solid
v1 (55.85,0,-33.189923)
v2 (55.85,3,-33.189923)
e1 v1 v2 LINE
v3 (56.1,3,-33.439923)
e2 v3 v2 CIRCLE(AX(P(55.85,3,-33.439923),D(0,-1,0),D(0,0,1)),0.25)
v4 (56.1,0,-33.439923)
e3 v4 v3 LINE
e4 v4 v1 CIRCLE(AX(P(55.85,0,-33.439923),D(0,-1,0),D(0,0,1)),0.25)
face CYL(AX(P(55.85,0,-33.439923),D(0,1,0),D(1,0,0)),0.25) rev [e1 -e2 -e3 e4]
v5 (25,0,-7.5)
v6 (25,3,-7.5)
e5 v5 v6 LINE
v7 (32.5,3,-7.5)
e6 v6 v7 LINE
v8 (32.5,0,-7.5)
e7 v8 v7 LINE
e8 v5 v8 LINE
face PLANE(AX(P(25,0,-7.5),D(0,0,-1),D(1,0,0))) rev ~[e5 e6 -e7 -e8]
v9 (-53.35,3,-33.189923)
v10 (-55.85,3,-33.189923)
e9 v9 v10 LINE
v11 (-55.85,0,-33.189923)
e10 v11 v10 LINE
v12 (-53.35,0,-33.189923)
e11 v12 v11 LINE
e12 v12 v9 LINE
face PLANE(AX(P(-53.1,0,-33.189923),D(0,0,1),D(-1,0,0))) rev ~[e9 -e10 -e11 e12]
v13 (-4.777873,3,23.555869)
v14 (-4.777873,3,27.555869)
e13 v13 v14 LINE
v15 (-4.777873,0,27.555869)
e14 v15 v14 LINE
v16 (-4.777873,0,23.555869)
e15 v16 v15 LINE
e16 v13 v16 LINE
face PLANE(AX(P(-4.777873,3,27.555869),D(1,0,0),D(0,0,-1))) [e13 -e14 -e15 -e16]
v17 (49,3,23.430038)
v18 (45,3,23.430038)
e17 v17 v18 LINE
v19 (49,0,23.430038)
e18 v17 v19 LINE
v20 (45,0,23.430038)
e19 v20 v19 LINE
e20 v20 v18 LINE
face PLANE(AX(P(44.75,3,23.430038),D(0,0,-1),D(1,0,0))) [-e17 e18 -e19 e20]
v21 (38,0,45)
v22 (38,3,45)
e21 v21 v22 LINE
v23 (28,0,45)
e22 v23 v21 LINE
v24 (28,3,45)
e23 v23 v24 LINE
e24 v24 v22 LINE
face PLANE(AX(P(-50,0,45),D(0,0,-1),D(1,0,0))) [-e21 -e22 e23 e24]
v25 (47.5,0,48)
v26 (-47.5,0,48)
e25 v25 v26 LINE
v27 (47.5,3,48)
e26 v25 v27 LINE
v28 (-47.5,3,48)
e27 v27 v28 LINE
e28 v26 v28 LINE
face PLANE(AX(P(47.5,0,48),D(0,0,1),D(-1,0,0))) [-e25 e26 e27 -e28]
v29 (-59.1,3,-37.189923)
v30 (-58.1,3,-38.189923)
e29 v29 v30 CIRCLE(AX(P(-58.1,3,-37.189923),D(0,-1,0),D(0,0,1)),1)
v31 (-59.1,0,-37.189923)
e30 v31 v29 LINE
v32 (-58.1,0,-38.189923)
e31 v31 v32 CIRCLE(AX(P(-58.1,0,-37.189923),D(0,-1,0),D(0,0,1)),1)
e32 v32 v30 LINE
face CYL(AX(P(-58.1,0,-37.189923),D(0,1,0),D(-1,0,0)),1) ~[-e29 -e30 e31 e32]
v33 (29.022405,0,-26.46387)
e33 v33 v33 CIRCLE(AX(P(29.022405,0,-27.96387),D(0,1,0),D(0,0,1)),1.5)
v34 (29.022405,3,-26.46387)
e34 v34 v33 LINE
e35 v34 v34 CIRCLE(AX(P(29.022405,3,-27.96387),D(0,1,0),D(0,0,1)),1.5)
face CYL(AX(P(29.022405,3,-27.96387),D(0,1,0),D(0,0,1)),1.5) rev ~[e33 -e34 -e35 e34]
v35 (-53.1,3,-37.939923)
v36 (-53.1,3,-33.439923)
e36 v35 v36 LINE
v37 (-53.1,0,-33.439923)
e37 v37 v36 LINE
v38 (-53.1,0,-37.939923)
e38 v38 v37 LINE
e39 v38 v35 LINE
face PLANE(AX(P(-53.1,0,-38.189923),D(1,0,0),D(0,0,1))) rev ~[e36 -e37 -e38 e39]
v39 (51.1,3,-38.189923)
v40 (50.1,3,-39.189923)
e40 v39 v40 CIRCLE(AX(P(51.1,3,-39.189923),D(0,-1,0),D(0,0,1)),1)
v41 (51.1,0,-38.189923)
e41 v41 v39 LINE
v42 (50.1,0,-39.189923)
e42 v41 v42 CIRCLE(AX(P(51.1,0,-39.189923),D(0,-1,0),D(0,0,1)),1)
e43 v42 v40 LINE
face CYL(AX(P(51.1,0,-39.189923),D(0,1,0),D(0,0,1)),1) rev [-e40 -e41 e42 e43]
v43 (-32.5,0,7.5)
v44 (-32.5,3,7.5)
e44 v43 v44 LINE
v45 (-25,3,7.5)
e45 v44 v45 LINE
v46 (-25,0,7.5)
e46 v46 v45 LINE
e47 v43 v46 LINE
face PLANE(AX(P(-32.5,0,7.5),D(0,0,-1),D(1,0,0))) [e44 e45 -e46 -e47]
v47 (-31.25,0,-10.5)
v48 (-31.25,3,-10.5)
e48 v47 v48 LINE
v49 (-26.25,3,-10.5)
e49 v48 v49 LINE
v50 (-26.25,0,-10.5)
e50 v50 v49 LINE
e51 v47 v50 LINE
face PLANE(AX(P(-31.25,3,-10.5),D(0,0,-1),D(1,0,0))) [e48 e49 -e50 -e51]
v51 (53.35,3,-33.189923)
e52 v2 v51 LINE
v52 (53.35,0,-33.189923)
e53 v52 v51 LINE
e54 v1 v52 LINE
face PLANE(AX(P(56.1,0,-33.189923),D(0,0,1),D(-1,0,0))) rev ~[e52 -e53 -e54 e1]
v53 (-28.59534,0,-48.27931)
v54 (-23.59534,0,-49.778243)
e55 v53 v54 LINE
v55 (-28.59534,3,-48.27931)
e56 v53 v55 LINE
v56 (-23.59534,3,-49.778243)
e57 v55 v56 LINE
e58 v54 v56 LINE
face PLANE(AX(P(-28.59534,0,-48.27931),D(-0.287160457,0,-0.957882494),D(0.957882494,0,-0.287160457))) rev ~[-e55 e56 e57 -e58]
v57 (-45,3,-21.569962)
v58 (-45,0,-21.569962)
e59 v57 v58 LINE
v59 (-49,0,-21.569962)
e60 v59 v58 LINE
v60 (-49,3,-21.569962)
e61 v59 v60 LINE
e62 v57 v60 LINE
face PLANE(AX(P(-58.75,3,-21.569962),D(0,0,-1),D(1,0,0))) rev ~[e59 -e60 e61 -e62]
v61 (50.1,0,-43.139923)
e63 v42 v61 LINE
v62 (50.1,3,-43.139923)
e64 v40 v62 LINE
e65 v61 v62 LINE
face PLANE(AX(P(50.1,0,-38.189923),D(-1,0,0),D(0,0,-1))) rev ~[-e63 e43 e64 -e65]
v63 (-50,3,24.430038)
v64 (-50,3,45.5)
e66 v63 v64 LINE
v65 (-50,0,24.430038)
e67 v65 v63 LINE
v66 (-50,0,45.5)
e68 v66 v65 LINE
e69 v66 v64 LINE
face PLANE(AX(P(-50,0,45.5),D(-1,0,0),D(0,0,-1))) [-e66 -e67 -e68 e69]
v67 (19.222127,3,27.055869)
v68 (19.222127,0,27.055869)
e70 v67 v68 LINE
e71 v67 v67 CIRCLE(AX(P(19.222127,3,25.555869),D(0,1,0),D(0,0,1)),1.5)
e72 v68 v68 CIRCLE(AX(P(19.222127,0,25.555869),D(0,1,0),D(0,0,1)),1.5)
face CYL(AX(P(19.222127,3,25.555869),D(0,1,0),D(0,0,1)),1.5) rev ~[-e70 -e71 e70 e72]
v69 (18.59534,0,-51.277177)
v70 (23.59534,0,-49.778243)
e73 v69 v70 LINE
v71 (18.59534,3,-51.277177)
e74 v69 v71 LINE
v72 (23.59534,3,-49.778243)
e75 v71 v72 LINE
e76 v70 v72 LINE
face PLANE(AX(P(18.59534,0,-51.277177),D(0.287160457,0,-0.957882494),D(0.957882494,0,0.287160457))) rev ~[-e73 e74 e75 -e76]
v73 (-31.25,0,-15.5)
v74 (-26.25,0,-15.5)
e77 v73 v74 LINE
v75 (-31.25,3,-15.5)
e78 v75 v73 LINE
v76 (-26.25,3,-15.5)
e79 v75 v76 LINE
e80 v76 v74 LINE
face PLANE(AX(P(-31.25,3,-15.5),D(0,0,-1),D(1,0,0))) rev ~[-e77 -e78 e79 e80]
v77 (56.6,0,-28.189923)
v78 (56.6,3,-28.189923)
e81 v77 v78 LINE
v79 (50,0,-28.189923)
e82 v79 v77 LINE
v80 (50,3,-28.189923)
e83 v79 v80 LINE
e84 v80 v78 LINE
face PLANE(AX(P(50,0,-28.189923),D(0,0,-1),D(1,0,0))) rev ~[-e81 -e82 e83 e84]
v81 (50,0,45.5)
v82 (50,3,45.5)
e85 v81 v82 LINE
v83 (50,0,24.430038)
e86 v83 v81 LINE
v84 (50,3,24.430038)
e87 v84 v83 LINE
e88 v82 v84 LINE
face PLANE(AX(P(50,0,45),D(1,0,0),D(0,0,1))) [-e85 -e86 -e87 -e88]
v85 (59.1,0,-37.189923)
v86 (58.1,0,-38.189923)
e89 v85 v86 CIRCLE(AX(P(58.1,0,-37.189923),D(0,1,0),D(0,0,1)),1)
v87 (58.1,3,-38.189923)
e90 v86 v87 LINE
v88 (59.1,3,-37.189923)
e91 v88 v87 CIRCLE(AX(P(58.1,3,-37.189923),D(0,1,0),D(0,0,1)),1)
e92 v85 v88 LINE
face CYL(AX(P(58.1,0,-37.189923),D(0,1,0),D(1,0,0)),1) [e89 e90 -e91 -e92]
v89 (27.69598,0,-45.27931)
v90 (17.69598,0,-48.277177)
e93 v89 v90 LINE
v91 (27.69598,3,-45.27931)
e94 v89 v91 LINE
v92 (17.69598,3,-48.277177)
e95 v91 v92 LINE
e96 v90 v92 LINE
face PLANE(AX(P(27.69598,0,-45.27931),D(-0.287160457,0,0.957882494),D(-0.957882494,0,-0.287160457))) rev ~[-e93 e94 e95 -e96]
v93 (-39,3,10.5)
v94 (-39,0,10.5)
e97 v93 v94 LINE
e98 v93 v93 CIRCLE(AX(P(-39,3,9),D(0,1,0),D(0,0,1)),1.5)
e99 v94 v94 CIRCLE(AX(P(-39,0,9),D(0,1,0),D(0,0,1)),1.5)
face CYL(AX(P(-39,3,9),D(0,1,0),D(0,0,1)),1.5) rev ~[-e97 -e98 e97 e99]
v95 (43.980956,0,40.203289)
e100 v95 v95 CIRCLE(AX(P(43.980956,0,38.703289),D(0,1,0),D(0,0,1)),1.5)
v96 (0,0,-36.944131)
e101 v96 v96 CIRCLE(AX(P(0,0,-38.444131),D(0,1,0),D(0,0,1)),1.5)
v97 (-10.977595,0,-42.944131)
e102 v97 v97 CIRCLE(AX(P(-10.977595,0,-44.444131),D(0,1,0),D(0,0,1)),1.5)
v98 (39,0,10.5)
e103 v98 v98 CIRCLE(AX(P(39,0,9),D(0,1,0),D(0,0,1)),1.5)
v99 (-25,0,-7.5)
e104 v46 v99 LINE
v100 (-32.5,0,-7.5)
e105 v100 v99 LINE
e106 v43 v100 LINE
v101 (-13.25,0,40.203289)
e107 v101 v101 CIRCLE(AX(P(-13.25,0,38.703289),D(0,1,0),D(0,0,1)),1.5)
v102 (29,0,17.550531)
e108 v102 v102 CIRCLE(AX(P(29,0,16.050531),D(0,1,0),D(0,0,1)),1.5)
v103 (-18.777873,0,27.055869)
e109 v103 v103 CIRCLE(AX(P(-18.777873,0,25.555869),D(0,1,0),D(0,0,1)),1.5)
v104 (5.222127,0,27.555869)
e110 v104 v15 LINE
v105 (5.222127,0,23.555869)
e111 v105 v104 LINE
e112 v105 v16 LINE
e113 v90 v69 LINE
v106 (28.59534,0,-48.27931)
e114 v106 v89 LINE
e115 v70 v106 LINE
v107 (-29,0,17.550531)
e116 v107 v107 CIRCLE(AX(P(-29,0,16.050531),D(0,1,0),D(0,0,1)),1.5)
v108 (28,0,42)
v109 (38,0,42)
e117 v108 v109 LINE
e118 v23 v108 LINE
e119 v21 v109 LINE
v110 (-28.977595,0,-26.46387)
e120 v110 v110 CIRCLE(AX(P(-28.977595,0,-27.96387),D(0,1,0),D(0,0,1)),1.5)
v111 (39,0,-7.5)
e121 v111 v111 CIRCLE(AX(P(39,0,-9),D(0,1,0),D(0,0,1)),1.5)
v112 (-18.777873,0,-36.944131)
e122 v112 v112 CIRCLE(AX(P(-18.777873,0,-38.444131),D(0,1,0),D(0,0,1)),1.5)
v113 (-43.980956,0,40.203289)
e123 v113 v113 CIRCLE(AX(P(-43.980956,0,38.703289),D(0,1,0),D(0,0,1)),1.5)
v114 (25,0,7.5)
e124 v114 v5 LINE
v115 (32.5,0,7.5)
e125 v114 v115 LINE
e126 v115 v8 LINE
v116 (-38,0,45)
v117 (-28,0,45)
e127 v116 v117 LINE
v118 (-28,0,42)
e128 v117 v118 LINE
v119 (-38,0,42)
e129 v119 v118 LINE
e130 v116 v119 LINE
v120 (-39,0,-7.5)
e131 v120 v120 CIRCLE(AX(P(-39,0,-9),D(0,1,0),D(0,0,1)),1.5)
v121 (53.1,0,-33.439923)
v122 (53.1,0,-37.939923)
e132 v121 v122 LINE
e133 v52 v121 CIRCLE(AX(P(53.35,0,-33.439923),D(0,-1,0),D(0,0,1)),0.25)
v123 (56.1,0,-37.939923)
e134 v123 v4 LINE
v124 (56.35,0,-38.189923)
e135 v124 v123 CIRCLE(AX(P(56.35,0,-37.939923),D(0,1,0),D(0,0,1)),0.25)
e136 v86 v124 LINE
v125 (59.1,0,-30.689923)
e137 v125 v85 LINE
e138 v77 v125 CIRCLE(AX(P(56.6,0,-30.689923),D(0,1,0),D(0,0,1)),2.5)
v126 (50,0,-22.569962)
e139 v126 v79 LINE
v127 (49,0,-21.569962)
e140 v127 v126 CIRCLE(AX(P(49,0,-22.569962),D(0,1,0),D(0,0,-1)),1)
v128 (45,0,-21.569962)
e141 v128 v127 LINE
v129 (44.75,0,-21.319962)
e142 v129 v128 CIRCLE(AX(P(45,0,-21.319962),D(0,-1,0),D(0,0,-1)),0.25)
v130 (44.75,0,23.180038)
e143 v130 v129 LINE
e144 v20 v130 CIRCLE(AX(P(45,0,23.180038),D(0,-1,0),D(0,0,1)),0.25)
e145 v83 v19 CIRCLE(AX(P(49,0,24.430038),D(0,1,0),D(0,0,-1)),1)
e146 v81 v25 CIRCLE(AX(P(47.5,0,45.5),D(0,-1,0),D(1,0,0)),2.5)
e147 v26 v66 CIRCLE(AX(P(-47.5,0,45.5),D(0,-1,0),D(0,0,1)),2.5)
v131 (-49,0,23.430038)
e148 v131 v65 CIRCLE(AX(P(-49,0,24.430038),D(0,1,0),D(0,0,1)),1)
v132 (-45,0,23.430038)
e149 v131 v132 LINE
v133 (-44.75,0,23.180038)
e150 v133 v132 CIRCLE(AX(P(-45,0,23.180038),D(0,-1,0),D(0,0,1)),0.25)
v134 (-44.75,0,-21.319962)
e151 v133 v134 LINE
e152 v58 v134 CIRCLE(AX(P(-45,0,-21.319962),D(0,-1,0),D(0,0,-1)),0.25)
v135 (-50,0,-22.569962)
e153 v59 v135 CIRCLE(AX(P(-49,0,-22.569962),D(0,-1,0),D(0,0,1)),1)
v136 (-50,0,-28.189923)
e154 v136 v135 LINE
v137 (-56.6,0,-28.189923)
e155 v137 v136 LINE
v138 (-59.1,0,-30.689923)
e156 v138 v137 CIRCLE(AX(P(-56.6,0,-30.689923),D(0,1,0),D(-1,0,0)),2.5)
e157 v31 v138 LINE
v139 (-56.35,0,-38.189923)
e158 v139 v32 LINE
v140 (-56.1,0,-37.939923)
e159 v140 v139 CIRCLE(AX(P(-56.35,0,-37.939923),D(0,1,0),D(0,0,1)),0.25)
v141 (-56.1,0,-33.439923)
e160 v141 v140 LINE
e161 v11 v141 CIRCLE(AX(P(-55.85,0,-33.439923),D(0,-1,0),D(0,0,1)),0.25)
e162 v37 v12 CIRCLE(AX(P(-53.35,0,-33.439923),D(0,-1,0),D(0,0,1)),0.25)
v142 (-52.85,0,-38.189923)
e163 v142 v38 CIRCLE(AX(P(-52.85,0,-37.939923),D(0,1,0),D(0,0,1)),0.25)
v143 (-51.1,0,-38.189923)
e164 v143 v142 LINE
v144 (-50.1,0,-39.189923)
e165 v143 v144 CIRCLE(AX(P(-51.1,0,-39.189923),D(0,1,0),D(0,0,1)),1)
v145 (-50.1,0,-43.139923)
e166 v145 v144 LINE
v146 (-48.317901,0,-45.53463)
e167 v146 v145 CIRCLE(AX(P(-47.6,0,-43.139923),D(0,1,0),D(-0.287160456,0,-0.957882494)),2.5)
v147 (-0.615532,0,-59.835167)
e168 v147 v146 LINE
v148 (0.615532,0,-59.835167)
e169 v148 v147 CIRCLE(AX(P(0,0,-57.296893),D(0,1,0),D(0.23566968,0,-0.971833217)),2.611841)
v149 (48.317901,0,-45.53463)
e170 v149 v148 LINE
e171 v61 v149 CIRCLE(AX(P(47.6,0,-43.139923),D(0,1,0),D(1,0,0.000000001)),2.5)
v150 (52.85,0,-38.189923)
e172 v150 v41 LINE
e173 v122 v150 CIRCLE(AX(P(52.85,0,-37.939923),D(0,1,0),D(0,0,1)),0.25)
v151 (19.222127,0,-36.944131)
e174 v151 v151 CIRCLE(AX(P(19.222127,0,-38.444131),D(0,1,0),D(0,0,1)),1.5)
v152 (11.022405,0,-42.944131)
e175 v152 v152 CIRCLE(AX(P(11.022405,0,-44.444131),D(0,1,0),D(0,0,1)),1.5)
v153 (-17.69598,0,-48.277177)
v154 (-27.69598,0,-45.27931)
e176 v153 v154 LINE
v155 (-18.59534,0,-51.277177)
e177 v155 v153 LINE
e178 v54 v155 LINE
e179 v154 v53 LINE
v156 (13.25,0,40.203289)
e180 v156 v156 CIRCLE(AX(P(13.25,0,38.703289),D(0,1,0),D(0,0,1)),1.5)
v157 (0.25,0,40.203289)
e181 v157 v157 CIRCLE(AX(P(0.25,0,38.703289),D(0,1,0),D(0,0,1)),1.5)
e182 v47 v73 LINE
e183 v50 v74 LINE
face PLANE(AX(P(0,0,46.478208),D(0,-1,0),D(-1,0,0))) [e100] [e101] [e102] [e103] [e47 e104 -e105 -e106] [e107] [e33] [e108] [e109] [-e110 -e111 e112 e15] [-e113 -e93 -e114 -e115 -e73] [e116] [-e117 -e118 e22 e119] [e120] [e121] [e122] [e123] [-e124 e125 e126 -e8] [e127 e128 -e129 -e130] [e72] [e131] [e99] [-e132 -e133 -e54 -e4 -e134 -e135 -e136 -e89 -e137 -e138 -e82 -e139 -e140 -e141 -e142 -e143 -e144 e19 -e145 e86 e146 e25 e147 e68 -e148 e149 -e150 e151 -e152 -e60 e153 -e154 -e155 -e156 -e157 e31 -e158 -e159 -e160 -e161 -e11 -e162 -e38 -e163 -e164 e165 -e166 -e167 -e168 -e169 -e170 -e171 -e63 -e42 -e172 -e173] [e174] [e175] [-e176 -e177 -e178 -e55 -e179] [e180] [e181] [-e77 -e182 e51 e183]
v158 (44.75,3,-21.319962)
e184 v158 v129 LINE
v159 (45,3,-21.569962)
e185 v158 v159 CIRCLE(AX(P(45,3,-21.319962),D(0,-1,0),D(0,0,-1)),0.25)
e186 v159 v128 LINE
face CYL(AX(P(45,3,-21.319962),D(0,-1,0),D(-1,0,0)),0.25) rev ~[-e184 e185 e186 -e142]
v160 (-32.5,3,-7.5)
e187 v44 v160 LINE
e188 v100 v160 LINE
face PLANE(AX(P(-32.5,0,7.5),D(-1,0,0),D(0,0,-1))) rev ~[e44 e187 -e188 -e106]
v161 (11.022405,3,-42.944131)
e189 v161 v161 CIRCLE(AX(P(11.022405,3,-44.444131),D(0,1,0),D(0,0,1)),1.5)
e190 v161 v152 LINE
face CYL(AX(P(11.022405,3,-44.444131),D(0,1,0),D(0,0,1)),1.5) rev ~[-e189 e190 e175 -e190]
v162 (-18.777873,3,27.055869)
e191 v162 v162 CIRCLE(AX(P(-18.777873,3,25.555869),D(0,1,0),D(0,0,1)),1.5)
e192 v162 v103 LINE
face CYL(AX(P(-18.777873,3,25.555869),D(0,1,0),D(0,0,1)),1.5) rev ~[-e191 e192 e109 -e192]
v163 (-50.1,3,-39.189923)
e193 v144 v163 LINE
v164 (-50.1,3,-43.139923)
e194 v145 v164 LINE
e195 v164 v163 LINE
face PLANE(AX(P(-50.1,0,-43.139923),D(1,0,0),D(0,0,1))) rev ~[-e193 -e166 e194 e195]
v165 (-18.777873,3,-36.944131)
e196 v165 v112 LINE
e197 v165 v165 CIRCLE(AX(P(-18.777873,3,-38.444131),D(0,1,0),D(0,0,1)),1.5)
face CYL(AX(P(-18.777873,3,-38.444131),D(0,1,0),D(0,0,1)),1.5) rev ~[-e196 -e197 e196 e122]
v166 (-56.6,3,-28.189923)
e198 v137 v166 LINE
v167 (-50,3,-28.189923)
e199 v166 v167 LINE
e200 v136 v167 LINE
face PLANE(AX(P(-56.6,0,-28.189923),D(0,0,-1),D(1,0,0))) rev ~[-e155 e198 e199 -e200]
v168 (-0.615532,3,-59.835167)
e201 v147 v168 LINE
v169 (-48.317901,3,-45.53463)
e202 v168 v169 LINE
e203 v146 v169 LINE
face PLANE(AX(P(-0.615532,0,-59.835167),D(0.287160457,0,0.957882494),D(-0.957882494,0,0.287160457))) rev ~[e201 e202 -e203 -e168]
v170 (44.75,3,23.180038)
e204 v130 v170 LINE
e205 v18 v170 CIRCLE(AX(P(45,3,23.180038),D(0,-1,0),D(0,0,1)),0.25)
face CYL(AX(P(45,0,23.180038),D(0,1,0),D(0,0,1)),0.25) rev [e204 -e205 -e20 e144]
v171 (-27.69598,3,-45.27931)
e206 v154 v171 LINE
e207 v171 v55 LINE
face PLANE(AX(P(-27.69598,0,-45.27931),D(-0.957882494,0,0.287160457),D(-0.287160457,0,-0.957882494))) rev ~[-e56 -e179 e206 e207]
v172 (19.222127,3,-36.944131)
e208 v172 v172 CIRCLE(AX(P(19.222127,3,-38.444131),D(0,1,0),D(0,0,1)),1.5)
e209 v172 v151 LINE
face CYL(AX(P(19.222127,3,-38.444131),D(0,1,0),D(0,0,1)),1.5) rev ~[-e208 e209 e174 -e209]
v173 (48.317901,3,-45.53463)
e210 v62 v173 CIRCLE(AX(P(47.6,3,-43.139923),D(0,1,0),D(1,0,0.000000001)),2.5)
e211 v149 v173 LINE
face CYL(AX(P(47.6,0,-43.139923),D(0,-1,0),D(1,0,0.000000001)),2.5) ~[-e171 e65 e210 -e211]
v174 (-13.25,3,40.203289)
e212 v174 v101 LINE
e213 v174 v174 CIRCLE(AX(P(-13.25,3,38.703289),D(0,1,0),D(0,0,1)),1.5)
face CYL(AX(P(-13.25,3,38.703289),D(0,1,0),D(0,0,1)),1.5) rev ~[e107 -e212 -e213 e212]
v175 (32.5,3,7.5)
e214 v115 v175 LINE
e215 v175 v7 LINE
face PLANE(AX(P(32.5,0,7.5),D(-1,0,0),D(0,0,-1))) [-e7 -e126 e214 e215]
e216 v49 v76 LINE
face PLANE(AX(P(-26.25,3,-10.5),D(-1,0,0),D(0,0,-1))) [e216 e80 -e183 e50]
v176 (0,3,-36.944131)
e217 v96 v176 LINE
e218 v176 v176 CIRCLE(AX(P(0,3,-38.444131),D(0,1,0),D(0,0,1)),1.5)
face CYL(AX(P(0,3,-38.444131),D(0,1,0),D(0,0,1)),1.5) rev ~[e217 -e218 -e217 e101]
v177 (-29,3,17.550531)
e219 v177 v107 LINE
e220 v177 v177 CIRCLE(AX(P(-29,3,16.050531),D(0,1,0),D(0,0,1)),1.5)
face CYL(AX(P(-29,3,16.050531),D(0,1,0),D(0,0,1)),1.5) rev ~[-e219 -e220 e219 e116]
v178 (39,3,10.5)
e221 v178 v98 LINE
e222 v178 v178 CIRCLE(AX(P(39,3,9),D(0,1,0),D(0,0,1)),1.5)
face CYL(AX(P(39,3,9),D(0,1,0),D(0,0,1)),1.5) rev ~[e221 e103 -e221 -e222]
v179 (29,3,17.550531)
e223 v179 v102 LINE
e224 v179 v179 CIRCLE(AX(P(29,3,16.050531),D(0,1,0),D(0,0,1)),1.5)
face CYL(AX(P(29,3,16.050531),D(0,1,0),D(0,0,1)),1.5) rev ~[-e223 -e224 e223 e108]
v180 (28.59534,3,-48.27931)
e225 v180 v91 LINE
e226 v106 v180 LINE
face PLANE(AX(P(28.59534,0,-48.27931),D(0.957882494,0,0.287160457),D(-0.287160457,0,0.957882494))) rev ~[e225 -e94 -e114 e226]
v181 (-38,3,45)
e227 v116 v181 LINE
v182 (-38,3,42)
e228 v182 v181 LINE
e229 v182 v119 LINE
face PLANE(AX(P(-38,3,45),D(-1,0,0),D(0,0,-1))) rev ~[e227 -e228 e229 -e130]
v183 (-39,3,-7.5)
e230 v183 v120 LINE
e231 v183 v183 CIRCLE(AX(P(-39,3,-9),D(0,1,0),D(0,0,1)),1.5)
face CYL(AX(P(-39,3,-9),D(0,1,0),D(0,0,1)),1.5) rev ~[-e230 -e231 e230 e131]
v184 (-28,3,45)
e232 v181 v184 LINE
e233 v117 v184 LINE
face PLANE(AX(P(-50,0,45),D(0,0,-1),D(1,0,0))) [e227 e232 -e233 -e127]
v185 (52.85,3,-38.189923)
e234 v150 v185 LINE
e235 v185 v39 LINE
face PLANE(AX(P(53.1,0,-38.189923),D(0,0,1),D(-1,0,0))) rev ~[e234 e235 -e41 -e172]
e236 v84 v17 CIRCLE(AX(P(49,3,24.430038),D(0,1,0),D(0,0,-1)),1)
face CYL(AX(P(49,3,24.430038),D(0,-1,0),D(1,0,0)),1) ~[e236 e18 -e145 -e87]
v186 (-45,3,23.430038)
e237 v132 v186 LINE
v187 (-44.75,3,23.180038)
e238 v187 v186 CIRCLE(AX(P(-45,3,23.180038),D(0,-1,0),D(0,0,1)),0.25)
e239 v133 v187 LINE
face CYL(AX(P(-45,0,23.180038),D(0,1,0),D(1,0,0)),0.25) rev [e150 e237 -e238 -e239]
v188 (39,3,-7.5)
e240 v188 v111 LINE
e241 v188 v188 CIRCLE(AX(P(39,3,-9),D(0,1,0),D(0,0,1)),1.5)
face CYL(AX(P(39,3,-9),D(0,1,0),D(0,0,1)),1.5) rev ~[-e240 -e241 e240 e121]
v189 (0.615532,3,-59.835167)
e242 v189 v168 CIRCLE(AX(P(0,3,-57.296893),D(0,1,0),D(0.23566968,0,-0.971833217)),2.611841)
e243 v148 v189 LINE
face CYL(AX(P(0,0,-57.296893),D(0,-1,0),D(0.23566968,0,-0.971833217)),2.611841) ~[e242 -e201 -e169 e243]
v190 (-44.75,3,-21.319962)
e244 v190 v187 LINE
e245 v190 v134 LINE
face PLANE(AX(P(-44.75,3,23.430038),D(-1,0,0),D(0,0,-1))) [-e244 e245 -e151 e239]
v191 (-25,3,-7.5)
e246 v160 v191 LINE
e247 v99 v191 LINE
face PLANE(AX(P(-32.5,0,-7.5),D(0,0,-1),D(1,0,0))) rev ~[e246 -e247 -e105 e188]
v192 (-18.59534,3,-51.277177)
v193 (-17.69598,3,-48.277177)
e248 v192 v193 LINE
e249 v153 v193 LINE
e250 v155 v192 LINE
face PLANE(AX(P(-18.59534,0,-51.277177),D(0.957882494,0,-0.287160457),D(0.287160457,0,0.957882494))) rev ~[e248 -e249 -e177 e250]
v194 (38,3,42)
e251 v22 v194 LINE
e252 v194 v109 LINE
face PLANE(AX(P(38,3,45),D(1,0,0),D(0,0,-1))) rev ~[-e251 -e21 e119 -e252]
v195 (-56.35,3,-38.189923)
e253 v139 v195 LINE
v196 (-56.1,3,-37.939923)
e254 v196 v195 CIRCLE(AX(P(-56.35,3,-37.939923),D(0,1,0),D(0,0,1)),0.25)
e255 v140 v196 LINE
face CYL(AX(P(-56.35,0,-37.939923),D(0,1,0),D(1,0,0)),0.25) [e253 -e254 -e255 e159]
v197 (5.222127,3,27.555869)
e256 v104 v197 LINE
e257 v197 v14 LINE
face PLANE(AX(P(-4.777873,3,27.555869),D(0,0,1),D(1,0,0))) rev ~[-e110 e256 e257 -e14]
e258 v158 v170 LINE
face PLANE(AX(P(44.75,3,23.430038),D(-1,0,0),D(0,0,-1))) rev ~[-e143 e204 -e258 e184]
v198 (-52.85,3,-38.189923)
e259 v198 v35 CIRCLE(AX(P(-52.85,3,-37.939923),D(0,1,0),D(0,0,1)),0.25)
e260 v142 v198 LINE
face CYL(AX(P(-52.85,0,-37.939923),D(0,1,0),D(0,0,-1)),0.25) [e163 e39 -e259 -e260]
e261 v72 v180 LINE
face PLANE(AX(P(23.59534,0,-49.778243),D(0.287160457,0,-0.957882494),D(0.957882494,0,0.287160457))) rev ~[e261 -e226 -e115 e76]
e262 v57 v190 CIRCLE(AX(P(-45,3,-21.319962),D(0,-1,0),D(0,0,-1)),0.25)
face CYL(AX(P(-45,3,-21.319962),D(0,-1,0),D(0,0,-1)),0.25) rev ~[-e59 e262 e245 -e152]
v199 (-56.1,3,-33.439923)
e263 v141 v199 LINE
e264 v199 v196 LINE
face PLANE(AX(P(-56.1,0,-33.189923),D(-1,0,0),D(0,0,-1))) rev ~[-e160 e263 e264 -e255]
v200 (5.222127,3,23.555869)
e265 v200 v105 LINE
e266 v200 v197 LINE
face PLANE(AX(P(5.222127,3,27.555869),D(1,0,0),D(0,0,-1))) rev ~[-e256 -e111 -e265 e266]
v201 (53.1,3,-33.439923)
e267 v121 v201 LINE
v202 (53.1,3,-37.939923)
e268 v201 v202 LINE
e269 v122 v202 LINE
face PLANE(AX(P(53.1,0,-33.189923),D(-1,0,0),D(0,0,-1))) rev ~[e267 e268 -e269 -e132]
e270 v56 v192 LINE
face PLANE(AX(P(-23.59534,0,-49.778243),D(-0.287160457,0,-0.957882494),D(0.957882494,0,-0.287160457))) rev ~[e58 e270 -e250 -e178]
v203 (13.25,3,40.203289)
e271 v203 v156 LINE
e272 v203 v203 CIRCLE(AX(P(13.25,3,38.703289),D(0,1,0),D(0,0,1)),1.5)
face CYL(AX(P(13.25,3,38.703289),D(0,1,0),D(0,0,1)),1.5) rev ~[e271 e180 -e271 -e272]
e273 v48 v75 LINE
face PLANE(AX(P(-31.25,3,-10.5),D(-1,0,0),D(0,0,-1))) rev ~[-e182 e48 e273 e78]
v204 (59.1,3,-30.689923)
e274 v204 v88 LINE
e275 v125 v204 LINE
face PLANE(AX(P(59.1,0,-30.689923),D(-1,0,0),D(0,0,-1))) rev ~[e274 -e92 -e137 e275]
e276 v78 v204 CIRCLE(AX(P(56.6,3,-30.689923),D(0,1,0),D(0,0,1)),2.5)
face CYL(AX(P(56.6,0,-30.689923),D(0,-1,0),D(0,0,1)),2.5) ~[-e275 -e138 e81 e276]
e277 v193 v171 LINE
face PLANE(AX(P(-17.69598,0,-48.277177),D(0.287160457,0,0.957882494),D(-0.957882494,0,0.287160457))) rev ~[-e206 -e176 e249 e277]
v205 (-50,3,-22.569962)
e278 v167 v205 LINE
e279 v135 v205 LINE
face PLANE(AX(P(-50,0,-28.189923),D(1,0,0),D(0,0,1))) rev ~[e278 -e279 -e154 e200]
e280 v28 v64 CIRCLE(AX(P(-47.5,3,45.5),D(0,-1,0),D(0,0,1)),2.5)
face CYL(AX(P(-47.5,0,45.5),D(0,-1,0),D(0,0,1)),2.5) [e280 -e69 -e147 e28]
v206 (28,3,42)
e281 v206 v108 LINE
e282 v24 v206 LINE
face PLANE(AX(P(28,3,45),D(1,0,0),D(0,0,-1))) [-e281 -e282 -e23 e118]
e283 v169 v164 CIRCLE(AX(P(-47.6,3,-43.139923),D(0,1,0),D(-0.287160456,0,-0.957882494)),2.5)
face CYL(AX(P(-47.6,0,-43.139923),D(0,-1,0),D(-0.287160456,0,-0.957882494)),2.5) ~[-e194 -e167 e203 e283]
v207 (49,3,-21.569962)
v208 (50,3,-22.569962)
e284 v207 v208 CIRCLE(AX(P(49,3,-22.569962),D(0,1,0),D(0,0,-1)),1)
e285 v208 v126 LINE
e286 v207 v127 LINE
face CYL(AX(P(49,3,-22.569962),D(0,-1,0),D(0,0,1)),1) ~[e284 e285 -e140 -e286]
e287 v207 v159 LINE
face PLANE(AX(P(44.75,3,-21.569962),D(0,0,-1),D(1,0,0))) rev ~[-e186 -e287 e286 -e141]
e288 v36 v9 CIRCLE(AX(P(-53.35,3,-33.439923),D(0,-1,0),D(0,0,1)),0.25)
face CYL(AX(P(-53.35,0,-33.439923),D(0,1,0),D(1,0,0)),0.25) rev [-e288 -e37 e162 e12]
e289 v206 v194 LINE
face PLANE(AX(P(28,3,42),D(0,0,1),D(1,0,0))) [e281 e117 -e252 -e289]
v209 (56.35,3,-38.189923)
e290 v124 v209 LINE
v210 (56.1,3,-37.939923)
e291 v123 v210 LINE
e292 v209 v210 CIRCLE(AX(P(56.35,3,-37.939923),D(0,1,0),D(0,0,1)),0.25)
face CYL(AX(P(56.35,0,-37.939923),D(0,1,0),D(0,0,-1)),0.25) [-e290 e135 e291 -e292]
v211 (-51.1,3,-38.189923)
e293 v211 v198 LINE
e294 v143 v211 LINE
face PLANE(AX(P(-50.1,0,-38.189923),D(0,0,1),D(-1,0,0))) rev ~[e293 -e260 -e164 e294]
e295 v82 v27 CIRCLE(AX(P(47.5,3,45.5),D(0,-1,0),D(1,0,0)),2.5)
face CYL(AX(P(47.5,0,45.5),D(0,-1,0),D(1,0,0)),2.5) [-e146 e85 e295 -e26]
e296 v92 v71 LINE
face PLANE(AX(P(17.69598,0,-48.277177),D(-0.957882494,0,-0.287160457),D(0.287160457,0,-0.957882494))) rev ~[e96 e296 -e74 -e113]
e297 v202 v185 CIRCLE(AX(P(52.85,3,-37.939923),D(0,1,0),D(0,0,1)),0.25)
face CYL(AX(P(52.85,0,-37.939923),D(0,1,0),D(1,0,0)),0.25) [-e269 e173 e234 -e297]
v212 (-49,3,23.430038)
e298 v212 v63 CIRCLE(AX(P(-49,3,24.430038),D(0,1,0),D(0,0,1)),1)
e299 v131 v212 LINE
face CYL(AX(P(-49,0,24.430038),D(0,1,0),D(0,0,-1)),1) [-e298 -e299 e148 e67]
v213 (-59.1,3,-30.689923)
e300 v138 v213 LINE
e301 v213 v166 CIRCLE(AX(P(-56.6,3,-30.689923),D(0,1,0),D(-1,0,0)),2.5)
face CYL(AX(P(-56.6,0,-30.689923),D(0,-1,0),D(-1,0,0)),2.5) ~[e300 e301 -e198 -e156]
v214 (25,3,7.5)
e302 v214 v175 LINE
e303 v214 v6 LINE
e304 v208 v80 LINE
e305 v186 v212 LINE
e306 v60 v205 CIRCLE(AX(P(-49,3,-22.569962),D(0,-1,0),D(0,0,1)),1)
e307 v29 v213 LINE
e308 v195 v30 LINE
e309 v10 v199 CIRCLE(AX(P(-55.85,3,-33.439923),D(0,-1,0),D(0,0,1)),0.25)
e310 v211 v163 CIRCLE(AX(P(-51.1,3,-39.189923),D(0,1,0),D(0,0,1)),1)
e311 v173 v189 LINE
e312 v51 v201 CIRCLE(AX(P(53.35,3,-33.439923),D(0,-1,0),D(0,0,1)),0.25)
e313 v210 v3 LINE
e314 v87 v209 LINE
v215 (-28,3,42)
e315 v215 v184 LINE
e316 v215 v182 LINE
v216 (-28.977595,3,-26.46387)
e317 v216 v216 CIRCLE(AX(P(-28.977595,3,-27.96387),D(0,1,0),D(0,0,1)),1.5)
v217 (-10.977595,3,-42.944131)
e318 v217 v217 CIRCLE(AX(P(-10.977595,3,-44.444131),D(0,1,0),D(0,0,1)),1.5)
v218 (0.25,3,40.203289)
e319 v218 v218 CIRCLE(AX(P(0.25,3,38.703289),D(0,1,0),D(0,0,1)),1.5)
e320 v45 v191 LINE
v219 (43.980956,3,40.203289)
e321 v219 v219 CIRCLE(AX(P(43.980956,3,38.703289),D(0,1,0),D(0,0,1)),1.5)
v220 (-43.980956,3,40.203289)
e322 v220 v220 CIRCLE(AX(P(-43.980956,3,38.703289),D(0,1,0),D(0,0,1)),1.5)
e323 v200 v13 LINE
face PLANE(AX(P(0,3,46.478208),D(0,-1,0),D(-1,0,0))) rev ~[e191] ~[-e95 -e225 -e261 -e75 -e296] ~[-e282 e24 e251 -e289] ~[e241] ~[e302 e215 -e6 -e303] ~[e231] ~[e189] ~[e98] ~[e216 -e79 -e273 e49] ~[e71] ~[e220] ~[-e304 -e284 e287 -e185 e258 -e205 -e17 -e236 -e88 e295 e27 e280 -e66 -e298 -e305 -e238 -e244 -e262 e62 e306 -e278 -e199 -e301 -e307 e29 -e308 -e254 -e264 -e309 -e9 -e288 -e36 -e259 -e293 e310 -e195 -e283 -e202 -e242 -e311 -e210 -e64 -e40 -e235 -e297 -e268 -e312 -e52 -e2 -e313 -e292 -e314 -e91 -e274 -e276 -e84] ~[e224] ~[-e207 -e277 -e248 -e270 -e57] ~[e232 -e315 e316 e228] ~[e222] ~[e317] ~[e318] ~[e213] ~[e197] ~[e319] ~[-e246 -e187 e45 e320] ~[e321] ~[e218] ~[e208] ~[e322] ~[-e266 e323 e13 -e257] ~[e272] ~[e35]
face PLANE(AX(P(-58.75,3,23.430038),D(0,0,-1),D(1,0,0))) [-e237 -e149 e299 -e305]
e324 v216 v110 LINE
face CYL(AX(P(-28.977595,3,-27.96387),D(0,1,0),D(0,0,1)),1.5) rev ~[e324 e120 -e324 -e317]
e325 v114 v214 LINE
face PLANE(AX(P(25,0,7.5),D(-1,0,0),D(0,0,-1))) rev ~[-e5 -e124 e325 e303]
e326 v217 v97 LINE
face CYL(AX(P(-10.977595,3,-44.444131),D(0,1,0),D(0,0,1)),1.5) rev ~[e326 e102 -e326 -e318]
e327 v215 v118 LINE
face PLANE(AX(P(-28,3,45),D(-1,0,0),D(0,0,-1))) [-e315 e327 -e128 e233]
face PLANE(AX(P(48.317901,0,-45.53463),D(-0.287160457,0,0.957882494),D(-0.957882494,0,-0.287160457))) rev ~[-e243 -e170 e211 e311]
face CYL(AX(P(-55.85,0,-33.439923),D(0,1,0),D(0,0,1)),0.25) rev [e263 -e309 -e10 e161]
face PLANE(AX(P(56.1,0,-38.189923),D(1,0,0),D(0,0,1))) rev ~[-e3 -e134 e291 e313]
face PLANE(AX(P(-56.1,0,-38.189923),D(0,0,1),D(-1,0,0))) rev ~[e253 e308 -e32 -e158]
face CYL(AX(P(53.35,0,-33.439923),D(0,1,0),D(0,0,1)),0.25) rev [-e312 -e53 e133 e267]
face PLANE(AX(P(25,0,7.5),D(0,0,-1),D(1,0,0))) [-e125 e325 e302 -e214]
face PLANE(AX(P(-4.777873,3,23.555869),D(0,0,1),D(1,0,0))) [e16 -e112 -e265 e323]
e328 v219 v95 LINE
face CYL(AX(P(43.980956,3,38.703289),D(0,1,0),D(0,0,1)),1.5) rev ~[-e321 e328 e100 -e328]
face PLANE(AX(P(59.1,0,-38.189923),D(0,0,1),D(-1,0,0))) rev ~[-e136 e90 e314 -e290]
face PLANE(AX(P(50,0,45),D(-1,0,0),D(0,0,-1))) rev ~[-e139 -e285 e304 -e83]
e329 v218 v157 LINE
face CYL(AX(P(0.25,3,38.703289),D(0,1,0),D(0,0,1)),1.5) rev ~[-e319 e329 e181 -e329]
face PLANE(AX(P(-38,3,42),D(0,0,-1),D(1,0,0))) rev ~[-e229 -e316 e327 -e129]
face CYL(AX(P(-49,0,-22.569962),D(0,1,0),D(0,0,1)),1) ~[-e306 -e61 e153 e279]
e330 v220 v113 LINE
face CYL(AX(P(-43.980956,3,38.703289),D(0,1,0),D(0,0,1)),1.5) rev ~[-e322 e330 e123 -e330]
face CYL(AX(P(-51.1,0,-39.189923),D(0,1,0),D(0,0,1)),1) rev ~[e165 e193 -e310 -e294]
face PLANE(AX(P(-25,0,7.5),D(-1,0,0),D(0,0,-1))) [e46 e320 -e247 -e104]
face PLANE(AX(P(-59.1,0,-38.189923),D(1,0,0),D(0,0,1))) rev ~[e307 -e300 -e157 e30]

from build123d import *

# Parameters (mm, degrees)
CROQUIS3_W              = 7.5
CROQUIS3_H              = 15
SALIENTE_EXTRUIR1_DEPTH = 3
CROQUIS4_R              = 1.5
CROQUIS4_W              = 14
CROQUIS4_H              = 45
CROQUIS4_W_2            = 10
CROQUIS4_H_2            = 3
CORTAR_EXTRUIR1_DEPTH   = 3
SALIENTE_EXTRUIR2_DEPTH = 3
REDONDEO2_R             = 0.25
REDONDEO3_R             = 1
CROQUIS6_R              = 1.5
CROQUIS6_W              = 5
CROQUIS6_H              = 5
CROQUIS6_W_2            = 10
CROQUIS6_H_2            = 4
CORTAR_EXTRUIR2_DEPTH   = 5
CROQUIS7_R              = 1.5
CORTAR_EXTRUIR4_DEPTH   = 5


with BuildPart() as part:
    # Croquis3 → Saliente-Extruir1 (new body)
    with BuildSketch(Plane(origin=(0, 0, 0), x_dir=(1, 0, 0), z_dir=(0, 1, 0))):
        with BuildLine():
            Line((-50, -45), (50, -45))
            Line((50, -45), (50, 28.189923373))
            Line((50, 28.189923373), (56.6, 28.189923373))
            ThreePointArc((56.6, 28.189923373), (58.367766953, 28.92215642), (59.1, 30.689923373))
            Line((59.1, 30.689923373), (59.1, 38.189923373))
            Line((59.1, 38.189923373), (56.1, 38.189923373))
            Line((56.1, 38.189923373), (56.1, 33.189923373))
            Line((56.1, 33.189923373), (53.1, 33.189923373))
            Line((53.1, 33.189923373), (53.1, 38.189923373))
            Line((53.1, 38.189923373), (50.1, 38.189923373))
            Line((50.1, 38.189923373), (50.1, 43.139923373))
            ThreePointArc((50.1, 43.139923373), (49.605586306, 44.632445926), (48.317901143, 45.534629607))
            Line((48.317901143, 45.534629607), (0.615531773, 59.835166775))
            ThreePointArc((0.615531773, 59.835166775), (0, 59.908733938), (-0.615531773, 59.835166775))
            Line((-0.615531773, 59.835166775), (-48.317901143, 45.534629607))
            ThreePointArc((-48.317901143, 45.534629607), (-49.605586306, 44.632445926), (-50.1, 43.139923373))
            Line((-50.1, 43.139923373), (-50.1, 38.189923373))
            Line((-50.1, 38.189923373), (-53.1, 38.189923373))
            Line((-53.1, 38.189923373), (-53.1, 33.189923373))
            Line((-53.1, 33.189923373), (-56.1, 33.189923373))
            Line((-56.1, 33.189923373), (-56.1, 38.189923373))
            Line((-56.1, 38.189923373), (-59.1, 38.189923373))
            Line((-59.1, 38.189923373), (-59.1, 30.689923373))
            ThreePointArc((-59.1, 30.689923373), (-58.367766953, 28.92215642), (-56.6, 28.189923373))
            Line((-56.6, 28.189923373), (-50, 28.189923373))
            Line((-50, 28.189923373), (-50, -45))
        make_face()
        with Locations((28.75, 0)):
            Rectangle(CROQUIS3_W, CROQUIS3_H, mode=Mode.SUBTRACT)
        with Locations((-28.75, 0)):
            Rectangle(CROQUIS3_W, CROQUIS3_H, mode=Mode.SUBTRACT)
        Polygon((-23.595339952, 49.778243466), (-18.595339952, 51.277177099), (-17.695979772, 48.277177099), (-27.695979772, 45.279309832), (-28.595339952, 48.279309832), align=None, mode=Mode.SUBTRACT)
        Polygon((28.595339952, 48.279309832), (27.695979772, 45.279309832), (17.695979772, 48.277177099), (18.595339952, 51.277177099), (23.595339952, 49.778243466), align=None, mode=Mode.SUBTRACT)
    extrude(amount=SALIENTE_EXTRUIR1_DEPTH)

    # Croquis4 → Cortar-Extruir1 (cut, symmetric)
    with BuildSketch(Plane(origin=(0, 3, 0), x_dir=(1, 0, 0), z_dir=(0, 1, 0))):
        with Locations(Location((0.25, -38.703289419, 0), (0, 0, 270))):
            Circle(CROQUIS4_R)
        with Locations(Location((-39, 9, 0), (0, 0, 270))):
            Circle(CROQUIS4_R)
        with Locations(Location((39, 9, 0), (0, 0, 270))):
            Circle(CROQUIS4_R)
        with Locations(Location((39, -9, 0), (0, 0, 270))):
            Circle(CROQUIS4_R)
        with Locations(Location((-39, -9, 0), (0, 0, 270))):
            Circle(CROQUIS4_R)
        with Locations(Location((-43.980956203, -38.703289419, 0), (0, 0, 270))):
            Circle(CROQUIS4_R)
        with Locations(Location((-13.25, -38.703289419, 0), (0, 0, 270))):
            Circle(CROQUIS4_R)
        with Locations(Location((13.25, -38.703289419, 0), (0, 0, 270))):
            Circle(CROQUIS4_R)
        with Locations(Location((43.980956203, -38.703289419, 0), (0, 0, 270))):
            Circle(CROQUIS4_R)
        with Locations((51.75, -0.930038314)):
            Rectangle(CROQUIS4_W, CROQUIS4_H)
        with Locations((-51.75, -0.930038314)):
            Rectangle(CROQUIS4_W, CROQUIS4_H)
        with Locations((-33, -43.5)):
            Rectangle(CROQUIS4_W_2, CROQUIS4_H_2)
        with Locations((33, -43.5)):
            Rectangle(CROQUIS4_W_2, CROQUIS4_H_2)
    extrude(amount=CORTAR_EXTRUIR1_DEPTH, both=True, mode=Mode.SUBTRACT)

    # Croquis5 → Saliente-Extruir2 (add)
    with BuildSketch(Plane(origin=(0, 0, 0), x_dir=(1, 0, 0), z_dir=(0, 1, 0))):
        with BuildLine():
            Line((-50, -45), (50, -45))
            Line((50, -45), (50, -45.5))
            ThreePointArc((50, -45.5), (49.267766953, -47.267766953), (47.5, -48))
            Line((47.5, -48), (-47.5, -48))
            ThreePointArc((-47.5, -48), (-49.267766953, -47.267766953), (-50, -45.5))
            Line((-50, -45.5), (-50, -45))
        make_face()
    extrude(amount=SALIENTE_EXTRUIR2_DEPTH)

    # Redondeo2
    redondeo2_edges = [part.edges().sort_by_distance(p)[0] for p in [
        (-44.75, 1.5, -21.569961686),
        (-44.75, 1.5, 23.430038314),
        (44.75, 1.5, 23.430038314),
        (44.75, 1.5, -21.569961686),
        (-56.1, 1.5, -38.189923373),
        (-56.1, 1.5, -33.189923373),
        (-53.1, 1.5, -33.189923373),
        (-53.1, 1.5, -38.189923373),
        (53.1, 1.5, -38.189923373),
        (53.1, 1.5, -33.189923373),
        (56.1, 1.5, -33.189923373),
        (56.1, 1.5, -38.189923373),
    ]]
    fillet(redondeo2_edges, radius=REDONDEO2_R)

    # Redondeo3
    redondeo3_edges = [part.edges().sort_by_distance(p)[0] for p in [
        (-50, 1.5, -21.569961686),
        (-50, 1.5, 23.430038314),
        (50, 1.5, -21.569961686),
        (50, 1.5, 23.430038314),
        (-59.1, 1.5, -38.189923373),
        (-50.1, 1.5, -38.189923373),
        (50.1, 1.5, -38.189923373),
        (59.1, 1.5, -38.189923373),
    ]]
    fillet(redondeo3_edges, radius=REDONDEO3_R)

    # Croquis6 → Cortar-Extruir2 (cut, symmetric)
    with BuildSketch(Plane(origin=(0, 3, 0), x_dir=(1, 0, 0), z_dir=(0, 1, 0))):
        with Locations(Location((-18.777873171, -25.555868596, 0), (0, 0, 270))):
            Circle(CROQUIS6_R)
        with Locations(Location((-18.777873171, 38.444131404, 0), (0, 0, 270))):
            Circle(CROQUIS6_R)
        with Locations(Location((19.222126829, -25.555868596, 0), (0, 0, 270))):
            Circle(CROQUIS6_R)
        with Locations(Location((19.222126829, 38.444131404, 0), (0, 0, 270))):
            Circle(CROQUIS6_R)
        with Locations((-28.75, 13)):
            Rectangle(CROQUIS6_W, CROQUIS6_H)
        with Locations((0.222126829, -25.555868596)):
            Rectangle(CROQUIS6_W_2, CROQUIS6_H_2)
    extrude(amount=CORTAR_EXTRUIR2_DEPTH, both=True, mode=Mode.SUBTRACT)

    # Croquis7 → Cortar-Extruir4 (cut, symmetric)
    with BuildSketch(Plane(origin=(0, 3, 0), x_dir=(1, 0, 0), z_dir=(0, 1, 0))):
        with Locations(Location((29.022405425, 27.963870269, 0), (0, 0, 270))):
            Circle(CROQUIS7_R)
        with Locations(Location((-29, -16.050530834, 0), (0, 0, 270))):
            Circle(CROQUIS7_R)
        with Locations(Location((29, -16.050530834, 0), (0, 0, 270))):
            Circle(CROQUIS7_R)
        with Locations(Location((-28.977594575, 27.963870269, 0), (0, 0, 270))):
            Circle(CROQUIS7_R)
        with Locations(Location((-10.977594575, 44.444131404, 0), (0, 0, 270))):
            Circle(CROQUIS7_R)
        with Locations(Location((11.022405425, 44.444131404, 0), (0, 0, 270))):
            Circle(CROQUIS7_R)
        with Locations(Location((0, 38.444131404, 0), (0, 0, 270))):
            Circle(CROQUIS7_R)
    extrude(amount=CORTAR_EXTRUIR4_DEPTH, both=True, mode=Mode.SUBTRACT)


solid = part.part
